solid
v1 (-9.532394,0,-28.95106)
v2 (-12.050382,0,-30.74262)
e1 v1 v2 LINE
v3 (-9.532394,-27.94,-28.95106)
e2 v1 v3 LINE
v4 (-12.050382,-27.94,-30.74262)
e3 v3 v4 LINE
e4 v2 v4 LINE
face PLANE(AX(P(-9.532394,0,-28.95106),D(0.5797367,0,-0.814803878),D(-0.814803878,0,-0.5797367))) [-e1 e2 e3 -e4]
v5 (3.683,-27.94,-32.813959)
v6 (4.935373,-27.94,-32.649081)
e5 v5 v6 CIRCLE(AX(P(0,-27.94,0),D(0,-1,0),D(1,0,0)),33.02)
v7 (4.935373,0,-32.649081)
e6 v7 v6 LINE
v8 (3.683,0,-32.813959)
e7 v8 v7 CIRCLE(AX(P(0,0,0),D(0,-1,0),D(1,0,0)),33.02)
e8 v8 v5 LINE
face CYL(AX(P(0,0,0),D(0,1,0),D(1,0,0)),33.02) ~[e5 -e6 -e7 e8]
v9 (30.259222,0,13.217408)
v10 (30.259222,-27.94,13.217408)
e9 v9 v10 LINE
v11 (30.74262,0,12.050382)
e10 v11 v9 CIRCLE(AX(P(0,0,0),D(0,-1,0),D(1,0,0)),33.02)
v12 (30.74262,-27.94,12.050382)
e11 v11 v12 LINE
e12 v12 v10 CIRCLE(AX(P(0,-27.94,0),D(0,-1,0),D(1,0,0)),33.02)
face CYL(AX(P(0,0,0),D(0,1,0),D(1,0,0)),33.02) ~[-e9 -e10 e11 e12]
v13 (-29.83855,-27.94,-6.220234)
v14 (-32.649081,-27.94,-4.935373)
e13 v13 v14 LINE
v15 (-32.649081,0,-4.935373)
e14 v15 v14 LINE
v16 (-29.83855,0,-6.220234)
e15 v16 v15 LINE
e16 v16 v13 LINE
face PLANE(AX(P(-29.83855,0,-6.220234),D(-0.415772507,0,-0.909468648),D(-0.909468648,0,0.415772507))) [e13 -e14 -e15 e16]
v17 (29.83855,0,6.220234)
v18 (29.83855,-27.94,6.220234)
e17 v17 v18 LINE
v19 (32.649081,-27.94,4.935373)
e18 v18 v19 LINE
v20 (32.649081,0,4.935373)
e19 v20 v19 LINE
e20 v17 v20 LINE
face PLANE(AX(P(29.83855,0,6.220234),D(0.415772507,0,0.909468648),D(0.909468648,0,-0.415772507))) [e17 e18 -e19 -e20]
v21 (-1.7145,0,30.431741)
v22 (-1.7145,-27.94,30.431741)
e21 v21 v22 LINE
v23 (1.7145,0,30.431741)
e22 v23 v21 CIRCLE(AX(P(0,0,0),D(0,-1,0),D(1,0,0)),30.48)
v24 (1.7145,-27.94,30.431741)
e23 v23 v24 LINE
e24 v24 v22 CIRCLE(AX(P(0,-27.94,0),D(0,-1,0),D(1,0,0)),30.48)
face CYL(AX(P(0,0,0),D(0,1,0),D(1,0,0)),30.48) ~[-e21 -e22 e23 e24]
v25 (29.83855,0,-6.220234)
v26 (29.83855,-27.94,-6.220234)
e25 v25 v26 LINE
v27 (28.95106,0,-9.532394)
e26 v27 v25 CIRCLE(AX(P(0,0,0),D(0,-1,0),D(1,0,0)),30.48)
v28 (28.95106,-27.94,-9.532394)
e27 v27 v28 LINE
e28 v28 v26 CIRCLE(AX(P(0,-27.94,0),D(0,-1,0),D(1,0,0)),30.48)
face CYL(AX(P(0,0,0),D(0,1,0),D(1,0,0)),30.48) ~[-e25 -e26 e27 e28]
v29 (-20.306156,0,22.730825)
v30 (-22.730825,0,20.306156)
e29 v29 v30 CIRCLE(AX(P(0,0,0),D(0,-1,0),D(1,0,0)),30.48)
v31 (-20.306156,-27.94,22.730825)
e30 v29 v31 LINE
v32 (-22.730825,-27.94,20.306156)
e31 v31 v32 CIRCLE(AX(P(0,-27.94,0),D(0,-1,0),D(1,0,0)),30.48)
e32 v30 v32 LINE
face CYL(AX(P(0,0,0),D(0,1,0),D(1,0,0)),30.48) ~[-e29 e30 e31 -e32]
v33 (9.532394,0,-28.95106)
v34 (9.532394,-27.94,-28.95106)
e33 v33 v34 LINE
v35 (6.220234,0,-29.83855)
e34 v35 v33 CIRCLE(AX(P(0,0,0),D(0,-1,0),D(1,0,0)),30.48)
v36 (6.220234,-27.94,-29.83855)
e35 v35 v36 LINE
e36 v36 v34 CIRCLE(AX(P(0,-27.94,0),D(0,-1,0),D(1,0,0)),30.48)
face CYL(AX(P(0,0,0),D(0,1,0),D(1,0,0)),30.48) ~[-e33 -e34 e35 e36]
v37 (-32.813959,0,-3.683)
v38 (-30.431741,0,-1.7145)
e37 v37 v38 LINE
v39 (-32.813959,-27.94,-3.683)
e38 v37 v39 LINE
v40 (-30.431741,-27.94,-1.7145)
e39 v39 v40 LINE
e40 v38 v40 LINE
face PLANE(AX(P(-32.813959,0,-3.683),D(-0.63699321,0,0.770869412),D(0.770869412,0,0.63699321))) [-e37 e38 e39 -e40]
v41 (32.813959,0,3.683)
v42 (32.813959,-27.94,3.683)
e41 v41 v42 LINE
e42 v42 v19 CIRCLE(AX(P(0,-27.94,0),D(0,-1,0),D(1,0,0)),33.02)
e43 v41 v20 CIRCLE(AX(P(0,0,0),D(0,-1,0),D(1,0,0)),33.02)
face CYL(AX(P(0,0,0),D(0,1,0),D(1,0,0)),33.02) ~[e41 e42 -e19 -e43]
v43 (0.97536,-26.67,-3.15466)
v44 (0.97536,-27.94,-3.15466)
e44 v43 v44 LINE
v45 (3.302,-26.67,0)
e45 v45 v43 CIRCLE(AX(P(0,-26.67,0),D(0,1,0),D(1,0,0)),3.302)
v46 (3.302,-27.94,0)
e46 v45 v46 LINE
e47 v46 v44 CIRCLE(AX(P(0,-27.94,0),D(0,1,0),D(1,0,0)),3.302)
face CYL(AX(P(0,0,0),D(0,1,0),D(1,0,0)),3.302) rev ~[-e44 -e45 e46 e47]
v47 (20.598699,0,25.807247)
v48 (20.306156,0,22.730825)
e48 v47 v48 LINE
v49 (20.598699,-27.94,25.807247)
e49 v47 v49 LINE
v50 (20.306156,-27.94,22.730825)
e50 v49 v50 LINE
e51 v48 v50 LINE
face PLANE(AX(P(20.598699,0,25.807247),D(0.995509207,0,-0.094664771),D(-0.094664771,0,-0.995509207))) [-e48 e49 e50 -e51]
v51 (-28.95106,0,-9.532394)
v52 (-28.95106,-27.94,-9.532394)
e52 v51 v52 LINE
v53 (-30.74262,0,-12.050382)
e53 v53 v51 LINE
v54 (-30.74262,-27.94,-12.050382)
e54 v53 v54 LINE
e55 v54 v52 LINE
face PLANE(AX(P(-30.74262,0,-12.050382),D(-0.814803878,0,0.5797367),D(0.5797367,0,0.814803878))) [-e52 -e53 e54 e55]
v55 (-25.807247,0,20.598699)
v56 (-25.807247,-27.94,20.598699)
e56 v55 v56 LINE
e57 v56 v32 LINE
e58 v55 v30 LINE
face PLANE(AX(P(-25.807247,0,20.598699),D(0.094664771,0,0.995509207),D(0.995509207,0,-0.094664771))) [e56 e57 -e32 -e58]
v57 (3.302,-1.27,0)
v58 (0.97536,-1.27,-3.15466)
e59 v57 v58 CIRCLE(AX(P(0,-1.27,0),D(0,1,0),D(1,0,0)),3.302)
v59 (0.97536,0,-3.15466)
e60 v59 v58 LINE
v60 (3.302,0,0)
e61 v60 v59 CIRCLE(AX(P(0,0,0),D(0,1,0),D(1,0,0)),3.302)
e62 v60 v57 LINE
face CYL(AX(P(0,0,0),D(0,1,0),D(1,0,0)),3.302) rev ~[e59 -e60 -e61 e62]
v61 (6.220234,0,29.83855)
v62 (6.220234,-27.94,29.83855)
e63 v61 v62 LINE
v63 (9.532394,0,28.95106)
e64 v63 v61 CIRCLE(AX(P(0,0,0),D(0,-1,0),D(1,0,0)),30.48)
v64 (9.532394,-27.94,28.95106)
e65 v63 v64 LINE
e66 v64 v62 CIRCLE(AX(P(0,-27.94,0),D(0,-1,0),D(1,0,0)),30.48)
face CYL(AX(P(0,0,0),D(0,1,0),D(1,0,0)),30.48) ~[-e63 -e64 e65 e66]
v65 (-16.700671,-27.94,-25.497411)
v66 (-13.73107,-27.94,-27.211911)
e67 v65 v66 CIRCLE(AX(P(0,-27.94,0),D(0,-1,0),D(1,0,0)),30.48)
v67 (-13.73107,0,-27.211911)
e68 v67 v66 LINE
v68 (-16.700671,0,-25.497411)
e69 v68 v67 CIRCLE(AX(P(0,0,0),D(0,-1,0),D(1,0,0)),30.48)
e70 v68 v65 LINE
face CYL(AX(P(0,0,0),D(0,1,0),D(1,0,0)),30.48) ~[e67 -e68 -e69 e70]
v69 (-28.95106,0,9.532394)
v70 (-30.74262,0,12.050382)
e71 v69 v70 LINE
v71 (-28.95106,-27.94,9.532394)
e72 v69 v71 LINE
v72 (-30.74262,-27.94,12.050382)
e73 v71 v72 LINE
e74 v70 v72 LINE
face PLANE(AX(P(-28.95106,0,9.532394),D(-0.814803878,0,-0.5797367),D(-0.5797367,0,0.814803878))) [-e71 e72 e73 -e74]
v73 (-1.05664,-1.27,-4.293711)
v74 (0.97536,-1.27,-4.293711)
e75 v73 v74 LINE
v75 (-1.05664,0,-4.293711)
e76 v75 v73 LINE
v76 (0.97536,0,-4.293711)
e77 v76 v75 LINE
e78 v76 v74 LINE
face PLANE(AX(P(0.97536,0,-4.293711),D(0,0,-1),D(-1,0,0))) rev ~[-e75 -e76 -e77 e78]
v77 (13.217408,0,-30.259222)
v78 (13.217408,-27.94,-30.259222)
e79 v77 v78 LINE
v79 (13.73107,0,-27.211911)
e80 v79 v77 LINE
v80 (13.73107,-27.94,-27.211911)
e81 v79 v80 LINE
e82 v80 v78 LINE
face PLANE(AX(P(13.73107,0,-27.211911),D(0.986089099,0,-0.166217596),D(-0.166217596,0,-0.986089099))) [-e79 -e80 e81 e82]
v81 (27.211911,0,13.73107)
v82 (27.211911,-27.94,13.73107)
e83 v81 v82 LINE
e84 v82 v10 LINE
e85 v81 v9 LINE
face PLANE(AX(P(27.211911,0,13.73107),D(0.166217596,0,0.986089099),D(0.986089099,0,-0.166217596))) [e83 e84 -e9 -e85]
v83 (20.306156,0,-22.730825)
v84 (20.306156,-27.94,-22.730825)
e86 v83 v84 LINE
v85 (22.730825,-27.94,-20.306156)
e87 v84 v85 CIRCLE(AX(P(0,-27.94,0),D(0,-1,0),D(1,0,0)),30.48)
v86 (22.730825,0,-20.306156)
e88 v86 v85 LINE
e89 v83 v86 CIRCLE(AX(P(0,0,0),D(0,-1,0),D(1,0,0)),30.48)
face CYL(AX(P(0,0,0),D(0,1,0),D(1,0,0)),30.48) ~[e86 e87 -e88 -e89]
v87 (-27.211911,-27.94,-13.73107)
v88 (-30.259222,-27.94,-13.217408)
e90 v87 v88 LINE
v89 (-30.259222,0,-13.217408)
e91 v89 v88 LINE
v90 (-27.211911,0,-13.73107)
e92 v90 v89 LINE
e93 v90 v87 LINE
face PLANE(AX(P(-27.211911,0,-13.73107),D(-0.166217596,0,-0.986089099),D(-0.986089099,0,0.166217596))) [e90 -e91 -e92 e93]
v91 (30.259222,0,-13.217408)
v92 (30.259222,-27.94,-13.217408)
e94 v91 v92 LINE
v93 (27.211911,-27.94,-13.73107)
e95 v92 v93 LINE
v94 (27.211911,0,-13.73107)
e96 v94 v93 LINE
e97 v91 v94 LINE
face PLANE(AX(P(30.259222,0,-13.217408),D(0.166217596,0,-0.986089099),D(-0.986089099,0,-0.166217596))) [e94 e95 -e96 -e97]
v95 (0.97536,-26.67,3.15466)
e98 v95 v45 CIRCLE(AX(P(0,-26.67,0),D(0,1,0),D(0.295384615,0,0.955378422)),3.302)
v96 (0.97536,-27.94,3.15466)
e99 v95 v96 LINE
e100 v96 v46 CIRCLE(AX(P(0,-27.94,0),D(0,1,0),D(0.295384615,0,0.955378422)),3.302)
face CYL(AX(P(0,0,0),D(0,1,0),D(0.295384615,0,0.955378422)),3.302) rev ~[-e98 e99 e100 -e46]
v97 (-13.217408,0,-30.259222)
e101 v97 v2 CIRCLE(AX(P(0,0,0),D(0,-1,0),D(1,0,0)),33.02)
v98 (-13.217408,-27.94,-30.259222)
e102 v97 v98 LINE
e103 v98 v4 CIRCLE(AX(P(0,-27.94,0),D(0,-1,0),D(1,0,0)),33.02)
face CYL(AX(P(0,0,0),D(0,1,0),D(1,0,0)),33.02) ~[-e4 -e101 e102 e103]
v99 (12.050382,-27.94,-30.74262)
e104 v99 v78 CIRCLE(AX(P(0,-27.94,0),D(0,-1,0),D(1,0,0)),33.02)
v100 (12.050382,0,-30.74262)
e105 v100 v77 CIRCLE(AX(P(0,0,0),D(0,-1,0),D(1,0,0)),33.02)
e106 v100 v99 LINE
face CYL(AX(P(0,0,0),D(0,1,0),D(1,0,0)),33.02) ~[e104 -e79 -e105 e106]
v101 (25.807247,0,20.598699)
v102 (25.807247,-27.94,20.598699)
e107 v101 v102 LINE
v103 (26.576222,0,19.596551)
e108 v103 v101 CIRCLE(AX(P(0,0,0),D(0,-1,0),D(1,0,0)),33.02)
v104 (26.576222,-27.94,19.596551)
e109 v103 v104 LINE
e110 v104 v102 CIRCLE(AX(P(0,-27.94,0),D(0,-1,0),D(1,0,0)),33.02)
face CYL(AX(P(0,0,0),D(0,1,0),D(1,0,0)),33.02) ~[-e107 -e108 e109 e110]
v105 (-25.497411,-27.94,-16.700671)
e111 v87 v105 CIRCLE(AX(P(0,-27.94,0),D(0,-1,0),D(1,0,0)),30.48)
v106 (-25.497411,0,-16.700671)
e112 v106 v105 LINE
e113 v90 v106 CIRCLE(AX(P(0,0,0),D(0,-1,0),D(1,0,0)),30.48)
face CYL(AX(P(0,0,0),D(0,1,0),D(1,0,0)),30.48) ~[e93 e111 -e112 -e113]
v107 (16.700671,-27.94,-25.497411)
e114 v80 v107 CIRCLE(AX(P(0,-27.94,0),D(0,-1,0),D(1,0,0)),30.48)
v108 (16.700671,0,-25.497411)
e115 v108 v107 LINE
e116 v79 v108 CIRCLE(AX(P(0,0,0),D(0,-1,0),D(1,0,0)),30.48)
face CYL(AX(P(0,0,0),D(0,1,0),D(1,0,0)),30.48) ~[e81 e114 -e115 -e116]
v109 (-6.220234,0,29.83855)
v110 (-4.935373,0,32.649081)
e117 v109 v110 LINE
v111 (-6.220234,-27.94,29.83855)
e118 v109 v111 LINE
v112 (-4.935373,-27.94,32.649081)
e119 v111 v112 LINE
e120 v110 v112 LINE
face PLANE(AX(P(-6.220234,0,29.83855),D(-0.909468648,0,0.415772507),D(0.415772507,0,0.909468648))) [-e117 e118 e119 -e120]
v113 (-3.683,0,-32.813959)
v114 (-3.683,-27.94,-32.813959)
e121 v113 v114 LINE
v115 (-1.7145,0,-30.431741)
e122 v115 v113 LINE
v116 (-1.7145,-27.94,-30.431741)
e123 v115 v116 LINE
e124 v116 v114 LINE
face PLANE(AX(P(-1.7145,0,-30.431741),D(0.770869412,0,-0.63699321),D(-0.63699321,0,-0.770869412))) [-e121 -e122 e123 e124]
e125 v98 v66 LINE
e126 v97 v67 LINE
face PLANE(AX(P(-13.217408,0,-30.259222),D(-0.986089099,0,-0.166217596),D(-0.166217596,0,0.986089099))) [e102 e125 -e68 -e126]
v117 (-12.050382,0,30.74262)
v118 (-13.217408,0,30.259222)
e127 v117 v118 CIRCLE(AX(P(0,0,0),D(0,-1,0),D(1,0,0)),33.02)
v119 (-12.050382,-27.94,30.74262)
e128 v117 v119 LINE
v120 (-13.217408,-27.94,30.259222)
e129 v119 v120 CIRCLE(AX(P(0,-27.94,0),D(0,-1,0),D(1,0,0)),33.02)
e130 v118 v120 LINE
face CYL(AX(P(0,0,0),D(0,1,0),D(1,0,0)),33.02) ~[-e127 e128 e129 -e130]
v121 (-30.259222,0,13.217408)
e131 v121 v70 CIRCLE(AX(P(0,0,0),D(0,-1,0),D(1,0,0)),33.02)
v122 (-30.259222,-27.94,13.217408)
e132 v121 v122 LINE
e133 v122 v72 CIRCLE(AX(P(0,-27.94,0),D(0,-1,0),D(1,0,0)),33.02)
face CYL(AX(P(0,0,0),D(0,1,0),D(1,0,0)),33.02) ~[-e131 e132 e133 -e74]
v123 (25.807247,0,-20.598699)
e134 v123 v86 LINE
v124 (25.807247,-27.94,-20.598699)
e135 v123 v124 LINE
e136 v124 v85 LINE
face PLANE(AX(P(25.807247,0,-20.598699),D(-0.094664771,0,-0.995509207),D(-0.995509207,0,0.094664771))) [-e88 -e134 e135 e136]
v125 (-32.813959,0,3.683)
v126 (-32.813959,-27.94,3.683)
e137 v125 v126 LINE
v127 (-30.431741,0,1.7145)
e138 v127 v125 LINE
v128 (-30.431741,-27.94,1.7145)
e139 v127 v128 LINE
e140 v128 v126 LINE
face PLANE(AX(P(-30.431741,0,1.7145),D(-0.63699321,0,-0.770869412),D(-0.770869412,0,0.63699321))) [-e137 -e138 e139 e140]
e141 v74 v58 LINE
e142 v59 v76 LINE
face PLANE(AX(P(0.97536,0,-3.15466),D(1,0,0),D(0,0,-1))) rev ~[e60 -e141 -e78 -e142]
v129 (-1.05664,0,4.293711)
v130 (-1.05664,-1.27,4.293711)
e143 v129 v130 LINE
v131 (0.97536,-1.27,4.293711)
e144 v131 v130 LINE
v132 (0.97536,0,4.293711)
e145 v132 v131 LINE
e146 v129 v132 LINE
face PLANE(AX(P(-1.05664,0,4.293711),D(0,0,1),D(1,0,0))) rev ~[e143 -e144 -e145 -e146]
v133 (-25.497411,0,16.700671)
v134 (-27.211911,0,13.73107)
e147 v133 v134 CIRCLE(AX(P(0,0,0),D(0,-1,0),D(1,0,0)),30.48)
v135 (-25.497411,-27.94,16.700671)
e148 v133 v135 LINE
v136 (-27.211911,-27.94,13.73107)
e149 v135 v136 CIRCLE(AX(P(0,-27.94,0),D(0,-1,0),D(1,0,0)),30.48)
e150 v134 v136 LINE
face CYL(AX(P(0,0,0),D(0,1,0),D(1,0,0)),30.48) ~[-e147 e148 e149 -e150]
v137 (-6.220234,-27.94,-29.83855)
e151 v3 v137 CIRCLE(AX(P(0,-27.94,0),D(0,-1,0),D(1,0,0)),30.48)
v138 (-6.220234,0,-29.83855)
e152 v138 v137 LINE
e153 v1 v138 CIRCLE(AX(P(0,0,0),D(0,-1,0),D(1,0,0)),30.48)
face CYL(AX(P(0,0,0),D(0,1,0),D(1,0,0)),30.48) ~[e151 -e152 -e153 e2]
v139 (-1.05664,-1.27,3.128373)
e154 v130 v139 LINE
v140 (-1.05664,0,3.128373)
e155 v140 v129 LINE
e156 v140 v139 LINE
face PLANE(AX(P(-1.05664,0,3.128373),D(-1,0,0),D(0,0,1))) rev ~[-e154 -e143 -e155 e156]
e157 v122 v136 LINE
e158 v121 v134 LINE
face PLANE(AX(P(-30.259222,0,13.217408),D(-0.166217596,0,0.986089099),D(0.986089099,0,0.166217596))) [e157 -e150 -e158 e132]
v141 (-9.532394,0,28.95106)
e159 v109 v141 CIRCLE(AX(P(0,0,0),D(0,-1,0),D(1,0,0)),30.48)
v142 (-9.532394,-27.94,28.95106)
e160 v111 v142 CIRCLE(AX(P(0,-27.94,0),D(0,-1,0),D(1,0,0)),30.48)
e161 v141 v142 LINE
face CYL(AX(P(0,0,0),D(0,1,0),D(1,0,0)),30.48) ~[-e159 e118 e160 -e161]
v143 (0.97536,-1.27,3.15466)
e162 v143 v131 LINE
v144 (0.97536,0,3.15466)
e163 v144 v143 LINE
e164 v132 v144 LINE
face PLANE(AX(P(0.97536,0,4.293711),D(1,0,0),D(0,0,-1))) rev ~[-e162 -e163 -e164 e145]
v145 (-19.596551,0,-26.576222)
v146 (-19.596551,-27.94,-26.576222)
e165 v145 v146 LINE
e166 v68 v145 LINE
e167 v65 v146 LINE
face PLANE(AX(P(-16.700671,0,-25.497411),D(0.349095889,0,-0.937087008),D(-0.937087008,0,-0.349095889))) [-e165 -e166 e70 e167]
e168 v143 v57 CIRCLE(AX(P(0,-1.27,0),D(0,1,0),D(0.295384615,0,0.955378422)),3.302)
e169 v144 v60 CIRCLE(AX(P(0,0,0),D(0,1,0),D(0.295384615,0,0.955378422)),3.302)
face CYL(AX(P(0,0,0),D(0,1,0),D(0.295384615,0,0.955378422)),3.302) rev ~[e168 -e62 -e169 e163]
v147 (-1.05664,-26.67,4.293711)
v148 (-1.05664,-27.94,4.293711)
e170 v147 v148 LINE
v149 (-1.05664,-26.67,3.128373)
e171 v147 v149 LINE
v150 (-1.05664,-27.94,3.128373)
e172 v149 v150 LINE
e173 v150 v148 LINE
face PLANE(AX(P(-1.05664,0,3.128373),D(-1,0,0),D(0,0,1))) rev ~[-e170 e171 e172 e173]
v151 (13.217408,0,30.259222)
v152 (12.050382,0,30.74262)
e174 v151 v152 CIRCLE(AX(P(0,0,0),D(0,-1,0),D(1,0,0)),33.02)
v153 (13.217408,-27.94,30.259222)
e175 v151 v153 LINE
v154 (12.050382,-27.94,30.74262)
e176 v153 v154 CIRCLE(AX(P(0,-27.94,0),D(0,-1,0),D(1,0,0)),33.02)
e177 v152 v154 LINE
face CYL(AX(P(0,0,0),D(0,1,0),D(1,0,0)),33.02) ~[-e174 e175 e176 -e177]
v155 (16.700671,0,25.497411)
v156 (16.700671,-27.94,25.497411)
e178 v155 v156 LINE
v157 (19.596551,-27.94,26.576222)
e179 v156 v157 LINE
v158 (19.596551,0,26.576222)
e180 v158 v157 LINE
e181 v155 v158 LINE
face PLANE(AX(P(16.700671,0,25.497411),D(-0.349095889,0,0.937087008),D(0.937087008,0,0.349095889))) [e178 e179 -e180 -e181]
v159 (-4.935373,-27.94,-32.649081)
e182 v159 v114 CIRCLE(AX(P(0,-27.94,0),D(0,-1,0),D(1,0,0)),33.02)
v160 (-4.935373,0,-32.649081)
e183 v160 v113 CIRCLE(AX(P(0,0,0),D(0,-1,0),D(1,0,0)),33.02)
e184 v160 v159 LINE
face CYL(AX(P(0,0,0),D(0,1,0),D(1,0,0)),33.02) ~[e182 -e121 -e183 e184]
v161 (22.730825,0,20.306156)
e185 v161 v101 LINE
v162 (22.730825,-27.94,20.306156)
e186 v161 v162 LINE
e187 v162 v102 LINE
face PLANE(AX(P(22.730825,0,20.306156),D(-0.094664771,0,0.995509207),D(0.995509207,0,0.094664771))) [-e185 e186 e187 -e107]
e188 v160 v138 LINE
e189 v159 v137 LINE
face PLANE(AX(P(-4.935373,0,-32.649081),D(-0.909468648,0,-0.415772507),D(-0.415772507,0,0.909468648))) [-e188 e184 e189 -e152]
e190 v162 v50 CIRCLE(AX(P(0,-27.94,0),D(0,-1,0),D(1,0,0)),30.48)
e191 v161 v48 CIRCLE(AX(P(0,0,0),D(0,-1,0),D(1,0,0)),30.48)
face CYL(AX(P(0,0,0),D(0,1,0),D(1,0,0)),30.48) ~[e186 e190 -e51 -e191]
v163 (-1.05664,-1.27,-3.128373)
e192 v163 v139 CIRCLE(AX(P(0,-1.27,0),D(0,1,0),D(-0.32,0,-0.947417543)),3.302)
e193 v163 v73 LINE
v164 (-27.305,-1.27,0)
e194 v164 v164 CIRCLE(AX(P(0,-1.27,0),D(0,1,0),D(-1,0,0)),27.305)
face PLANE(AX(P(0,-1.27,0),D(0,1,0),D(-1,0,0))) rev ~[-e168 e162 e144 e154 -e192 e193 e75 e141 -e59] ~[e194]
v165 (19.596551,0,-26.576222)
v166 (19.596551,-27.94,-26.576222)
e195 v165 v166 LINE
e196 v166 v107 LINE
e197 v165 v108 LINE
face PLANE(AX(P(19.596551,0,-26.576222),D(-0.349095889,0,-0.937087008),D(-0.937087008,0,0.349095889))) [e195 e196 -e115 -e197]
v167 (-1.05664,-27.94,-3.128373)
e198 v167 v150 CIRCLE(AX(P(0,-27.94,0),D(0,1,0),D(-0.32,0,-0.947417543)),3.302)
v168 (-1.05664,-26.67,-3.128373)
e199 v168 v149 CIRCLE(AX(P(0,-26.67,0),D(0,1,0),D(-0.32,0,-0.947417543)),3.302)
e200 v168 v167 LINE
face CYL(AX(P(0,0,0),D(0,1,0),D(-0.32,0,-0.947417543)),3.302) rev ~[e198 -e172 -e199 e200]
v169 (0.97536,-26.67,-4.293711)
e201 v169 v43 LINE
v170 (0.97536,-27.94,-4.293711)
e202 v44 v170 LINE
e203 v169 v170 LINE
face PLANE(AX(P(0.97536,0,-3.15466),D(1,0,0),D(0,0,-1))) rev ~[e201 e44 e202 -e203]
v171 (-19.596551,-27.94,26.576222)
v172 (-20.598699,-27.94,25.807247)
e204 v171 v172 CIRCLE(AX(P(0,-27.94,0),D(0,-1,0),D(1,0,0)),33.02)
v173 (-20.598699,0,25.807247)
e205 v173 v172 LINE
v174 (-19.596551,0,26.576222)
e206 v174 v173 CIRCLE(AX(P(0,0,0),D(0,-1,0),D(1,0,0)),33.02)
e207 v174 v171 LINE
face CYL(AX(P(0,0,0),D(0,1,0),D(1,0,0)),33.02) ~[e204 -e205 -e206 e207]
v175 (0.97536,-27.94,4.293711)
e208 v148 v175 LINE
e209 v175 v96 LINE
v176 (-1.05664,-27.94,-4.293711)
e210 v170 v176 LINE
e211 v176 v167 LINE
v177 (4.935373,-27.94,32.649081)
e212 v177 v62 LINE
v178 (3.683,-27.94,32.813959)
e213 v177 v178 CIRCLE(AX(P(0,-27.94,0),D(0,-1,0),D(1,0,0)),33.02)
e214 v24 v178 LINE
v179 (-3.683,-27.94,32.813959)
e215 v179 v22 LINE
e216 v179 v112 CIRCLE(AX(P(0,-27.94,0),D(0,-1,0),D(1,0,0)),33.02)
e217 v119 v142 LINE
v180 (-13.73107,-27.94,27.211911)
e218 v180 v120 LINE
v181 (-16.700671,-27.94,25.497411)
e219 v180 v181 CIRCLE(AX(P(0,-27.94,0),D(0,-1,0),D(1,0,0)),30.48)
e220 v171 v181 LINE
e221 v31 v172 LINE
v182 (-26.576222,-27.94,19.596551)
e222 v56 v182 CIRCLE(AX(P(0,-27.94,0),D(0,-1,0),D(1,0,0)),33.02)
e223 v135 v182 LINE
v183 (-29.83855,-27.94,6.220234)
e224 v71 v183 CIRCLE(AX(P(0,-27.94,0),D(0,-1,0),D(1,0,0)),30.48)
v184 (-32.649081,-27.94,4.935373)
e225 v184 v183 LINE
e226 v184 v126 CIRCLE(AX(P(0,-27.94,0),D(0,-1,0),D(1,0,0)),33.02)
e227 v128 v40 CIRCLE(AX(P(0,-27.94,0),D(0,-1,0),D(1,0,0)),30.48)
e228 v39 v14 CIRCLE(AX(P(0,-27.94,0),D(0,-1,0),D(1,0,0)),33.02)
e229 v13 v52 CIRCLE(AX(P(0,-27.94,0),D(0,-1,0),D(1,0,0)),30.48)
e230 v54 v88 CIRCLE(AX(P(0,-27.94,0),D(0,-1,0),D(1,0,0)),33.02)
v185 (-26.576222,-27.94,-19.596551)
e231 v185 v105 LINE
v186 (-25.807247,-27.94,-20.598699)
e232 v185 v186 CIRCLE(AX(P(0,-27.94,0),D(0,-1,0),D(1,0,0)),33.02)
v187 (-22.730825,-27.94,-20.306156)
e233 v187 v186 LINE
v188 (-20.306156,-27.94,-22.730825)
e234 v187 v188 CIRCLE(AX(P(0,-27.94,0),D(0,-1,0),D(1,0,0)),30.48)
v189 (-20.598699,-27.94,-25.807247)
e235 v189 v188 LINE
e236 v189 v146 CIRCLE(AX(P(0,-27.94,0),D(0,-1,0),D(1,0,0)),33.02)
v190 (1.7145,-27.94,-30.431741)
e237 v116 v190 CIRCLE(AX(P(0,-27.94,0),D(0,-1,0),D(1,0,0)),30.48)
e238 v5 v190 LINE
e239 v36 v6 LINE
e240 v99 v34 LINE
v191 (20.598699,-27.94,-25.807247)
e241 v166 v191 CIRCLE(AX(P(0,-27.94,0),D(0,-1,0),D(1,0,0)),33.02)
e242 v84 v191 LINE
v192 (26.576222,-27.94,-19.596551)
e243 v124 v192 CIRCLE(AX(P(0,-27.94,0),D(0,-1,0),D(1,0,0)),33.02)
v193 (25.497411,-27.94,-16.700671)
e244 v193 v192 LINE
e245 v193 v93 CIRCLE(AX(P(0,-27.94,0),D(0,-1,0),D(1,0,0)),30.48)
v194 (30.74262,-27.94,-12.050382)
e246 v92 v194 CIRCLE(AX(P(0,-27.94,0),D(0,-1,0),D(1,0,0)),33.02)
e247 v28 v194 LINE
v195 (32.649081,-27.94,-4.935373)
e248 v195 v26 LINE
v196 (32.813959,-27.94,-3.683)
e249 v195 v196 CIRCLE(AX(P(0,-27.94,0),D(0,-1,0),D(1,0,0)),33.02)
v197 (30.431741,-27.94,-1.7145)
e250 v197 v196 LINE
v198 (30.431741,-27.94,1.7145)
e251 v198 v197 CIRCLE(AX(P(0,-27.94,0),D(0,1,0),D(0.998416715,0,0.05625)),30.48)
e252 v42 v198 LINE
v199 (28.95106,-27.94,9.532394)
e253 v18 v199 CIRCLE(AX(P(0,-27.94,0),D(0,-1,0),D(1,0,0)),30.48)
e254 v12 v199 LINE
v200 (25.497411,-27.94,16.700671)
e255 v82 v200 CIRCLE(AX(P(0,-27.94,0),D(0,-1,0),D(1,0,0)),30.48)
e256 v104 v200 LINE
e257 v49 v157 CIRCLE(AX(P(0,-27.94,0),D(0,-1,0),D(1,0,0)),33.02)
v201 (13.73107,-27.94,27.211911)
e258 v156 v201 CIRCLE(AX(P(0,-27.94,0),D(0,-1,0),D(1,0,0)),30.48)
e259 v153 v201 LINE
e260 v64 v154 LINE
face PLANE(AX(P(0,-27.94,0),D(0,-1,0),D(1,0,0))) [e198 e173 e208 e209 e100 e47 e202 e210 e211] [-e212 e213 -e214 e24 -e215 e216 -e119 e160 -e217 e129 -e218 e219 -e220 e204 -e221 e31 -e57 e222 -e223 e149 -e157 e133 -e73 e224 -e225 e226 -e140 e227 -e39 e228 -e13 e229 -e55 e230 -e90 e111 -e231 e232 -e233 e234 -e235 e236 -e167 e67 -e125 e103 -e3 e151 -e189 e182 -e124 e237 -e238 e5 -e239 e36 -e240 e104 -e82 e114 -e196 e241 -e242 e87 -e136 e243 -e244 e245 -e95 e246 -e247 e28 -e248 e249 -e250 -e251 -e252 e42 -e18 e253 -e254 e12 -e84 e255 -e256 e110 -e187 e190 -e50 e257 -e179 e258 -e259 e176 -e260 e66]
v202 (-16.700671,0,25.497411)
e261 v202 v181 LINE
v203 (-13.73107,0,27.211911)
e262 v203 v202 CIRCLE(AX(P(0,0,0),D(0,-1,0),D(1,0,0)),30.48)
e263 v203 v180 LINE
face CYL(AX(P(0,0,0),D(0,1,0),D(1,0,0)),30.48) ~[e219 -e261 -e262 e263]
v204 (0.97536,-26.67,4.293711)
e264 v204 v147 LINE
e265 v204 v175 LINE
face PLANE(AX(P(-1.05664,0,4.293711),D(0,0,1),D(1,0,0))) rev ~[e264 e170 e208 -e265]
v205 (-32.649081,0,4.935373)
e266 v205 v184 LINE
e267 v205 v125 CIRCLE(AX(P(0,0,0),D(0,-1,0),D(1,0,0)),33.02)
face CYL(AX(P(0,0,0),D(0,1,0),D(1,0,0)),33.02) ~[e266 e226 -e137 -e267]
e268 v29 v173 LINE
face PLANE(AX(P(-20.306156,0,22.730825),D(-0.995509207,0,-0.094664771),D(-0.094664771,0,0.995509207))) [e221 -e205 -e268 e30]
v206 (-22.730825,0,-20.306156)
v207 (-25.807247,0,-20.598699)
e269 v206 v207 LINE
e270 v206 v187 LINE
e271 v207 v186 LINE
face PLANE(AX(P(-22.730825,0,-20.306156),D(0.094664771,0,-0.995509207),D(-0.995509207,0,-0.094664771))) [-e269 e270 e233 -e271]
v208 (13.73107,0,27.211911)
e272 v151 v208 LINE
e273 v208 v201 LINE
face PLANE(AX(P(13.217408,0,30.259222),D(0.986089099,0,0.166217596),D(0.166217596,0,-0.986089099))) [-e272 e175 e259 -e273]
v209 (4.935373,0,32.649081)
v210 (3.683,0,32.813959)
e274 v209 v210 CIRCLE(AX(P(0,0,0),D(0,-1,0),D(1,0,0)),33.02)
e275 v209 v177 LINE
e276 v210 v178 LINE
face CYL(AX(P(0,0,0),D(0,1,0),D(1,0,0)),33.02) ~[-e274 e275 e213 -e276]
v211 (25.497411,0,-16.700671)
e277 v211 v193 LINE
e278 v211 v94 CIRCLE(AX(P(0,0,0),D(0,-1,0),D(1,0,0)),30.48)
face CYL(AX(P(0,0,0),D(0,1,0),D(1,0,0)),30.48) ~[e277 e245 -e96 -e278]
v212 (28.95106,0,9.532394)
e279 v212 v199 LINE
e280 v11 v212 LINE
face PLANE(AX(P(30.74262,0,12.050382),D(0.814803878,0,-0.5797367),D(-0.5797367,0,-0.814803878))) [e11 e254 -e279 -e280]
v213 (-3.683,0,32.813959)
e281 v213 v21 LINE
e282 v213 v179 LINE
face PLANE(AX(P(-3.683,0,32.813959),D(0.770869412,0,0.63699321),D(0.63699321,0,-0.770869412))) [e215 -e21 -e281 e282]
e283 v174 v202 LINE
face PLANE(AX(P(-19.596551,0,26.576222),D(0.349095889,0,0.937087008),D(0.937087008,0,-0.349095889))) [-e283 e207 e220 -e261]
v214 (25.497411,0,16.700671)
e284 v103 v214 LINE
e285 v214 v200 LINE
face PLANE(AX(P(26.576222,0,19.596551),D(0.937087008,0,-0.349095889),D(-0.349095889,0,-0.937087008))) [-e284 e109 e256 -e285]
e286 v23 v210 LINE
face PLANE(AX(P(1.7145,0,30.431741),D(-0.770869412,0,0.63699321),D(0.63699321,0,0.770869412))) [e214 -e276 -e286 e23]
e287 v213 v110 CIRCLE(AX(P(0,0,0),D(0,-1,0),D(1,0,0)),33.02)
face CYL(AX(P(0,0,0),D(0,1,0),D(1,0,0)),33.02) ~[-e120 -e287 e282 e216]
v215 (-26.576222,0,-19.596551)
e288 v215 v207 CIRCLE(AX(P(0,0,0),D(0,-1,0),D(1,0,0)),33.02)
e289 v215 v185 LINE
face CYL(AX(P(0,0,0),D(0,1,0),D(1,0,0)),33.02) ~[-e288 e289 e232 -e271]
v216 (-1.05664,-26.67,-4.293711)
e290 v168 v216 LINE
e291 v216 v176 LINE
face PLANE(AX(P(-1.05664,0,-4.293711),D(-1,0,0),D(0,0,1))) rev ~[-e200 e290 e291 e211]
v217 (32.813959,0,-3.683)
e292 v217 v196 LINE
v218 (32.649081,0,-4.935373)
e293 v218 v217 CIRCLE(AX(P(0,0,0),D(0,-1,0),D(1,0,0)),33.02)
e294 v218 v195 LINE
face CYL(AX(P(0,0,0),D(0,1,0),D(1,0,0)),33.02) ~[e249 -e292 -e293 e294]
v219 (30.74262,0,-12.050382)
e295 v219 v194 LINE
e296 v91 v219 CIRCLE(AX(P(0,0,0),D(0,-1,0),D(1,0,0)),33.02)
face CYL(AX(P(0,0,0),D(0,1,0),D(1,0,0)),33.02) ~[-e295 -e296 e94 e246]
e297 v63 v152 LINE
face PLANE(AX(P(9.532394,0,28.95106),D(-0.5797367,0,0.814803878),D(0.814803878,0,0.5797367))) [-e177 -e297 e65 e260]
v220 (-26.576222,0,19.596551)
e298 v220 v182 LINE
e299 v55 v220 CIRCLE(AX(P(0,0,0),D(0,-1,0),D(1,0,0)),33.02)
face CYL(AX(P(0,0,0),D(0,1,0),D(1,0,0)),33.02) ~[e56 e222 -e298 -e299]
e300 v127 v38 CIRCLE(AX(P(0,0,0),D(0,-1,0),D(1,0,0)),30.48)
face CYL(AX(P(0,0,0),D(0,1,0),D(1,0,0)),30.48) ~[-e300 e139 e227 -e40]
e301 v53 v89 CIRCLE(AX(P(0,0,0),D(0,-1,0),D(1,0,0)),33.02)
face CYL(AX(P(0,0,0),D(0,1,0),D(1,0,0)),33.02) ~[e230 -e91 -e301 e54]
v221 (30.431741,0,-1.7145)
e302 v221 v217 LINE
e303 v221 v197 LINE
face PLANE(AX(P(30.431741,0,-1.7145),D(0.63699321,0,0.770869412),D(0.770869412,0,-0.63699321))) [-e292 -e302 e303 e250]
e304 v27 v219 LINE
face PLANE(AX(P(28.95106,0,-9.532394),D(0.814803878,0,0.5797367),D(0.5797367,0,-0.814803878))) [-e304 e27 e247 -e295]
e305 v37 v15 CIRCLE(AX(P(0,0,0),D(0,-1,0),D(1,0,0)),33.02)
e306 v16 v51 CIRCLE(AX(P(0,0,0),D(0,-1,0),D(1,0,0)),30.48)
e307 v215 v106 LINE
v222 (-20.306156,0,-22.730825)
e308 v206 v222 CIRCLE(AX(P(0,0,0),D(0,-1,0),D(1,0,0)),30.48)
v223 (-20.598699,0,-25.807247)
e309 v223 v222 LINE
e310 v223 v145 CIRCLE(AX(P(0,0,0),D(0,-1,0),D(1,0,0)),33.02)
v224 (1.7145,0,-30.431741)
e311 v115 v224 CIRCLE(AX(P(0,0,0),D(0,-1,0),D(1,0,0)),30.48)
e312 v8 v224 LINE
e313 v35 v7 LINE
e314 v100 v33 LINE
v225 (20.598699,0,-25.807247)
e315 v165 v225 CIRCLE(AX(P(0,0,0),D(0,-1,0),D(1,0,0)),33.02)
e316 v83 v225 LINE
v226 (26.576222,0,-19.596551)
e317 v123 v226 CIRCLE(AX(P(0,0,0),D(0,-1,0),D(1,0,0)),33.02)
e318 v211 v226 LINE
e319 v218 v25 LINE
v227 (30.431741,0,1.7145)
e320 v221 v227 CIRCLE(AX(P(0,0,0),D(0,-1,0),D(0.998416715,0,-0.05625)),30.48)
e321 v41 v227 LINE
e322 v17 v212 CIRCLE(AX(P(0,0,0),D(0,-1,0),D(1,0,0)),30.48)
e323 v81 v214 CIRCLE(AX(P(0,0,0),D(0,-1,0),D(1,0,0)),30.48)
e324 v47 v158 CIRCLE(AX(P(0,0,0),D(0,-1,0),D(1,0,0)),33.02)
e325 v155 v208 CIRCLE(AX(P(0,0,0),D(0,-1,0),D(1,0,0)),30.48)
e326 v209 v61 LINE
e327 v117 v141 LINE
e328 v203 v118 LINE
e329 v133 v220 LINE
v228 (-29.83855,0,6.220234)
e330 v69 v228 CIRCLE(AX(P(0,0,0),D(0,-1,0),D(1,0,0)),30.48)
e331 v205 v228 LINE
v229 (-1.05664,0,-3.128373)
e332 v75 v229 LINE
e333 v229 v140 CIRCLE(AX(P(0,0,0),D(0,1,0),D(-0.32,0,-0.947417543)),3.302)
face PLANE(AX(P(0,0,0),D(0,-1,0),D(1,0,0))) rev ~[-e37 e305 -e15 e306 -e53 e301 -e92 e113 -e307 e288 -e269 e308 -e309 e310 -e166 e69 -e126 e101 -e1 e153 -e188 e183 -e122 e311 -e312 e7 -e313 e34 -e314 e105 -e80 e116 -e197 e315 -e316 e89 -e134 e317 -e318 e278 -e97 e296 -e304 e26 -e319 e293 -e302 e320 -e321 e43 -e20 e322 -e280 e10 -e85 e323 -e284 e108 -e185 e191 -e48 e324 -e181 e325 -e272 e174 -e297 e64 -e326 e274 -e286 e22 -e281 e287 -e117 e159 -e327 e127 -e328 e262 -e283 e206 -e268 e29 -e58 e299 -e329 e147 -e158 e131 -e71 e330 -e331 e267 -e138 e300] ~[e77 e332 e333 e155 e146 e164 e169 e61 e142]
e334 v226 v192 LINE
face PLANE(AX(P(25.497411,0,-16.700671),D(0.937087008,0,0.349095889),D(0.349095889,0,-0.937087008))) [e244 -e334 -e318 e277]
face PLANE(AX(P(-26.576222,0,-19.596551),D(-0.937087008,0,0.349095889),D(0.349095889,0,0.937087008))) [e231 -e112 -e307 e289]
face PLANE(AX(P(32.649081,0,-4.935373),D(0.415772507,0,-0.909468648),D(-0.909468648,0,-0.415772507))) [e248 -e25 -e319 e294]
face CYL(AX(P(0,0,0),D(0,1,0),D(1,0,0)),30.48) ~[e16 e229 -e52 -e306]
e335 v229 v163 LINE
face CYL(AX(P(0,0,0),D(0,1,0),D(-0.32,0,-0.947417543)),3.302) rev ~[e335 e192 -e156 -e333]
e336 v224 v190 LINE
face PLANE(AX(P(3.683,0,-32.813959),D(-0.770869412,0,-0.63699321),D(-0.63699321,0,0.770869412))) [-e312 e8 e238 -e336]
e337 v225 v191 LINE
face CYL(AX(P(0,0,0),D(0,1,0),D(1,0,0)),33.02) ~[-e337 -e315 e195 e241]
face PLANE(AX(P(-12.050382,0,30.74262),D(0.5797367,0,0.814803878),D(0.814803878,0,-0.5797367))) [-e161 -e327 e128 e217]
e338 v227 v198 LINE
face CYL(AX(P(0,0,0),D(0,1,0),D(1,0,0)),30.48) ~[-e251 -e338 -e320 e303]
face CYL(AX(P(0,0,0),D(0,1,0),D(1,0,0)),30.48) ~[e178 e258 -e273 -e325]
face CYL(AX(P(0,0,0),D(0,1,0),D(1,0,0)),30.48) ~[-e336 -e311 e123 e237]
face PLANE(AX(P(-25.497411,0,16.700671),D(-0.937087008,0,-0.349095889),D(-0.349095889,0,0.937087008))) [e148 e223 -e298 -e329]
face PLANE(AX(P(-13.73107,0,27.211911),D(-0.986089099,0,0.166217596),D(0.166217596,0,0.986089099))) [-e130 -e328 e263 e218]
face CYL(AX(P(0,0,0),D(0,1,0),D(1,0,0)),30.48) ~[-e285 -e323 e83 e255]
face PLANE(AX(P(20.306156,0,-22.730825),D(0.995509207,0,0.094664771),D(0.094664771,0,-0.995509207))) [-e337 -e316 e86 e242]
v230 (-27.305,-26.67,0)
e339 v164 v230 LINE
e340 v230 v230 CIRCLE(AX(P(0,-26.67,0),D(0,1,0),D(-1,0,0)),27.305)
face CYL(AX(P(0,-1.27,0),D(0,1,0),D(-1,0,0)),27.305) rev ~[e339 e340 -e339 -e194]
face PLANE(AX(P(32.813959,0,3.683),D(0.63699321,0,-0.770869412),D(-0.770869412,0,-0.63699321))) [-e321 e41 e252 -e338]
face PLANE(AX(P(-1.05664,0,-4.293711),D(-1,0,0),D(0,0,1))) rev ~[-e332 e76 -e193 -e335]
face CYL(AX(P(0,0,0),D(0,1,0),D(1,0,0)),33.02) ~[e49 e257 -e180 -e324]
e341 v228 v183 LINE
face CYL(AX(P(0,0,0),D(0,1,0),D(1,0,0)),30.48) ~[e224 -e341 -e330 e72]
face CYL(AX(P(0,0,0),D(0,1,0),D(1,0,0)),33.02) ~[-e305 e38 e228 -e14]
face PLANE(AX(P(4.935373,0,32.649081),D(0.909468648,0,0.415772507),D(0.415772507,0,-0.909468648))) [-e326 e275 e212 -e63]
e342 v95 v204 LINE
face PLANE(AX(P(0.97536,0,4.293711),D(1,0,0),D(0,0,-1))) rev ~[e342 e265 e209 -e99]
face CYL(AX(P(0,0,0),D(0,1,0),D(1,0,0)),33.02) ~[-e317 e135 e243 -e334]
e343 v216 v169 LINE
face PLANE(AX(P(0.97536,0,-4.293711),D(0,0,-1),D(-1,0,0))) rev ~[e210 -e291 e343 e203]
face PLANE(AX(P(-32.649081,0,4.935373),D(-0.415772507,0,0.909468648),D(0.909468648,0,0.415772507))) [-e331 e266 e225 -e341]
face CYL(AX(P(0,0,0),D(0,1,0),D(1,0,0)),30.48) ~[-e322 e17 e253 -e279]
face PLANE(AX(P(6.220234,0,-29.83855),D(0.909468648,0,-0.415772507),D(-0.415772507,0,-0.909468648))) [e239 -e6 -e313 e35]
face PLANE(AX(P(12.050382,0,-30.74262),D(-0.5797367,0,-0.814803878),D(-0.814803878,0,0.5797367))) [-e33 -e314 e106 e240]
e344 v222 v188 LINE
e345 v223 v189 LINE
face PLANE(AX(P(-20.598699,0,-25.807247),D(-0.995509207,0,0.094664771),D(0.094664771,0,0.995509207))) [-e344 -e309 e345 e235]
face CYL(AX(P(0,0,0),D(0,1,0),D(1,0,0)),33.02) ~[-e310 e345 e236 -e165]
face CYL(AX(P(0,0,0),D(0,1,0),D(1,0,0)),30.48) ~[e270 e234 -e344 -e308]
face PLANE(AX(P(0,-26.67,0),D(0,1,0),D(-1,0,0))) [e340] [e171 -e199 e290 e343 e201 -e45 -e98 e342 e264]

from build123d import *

# Parameters (mm, degrees)
F0_R     = 33.02
F0_R_2   = 30.48
F1_DEPTH = 27.94
F3_DEPTH = 27.94
F4_DEPTH = 27.94
F6_R     = 27.305
F7_DEPTH = 25.4


with BuildPart() as f1:
    # F0 (on Front) → F1 (new body)
    with BuildSketch(Plane.XZ):
        Circle(F0_R)
        Circle(F0_R_2, mode=Mode.SUBTRACT)
    extrude(amount=F1_DEPTH)

    # F2 (on Front) → F3 (cut)
    with BuildSketch(Plane.XZ):
        with BuildLine():
            Line((-3.683, 32.8139590876), (-1.7145, 30.431741484))
            ThreePointArc((-1.7145, 30.431741484), (0, 30.48), (1.7145, 30.431741484))
            Line((1.7145, 30.431741484), (3.683, 32.8139590876))
            ThreePointArc((3.683, 32.8139590876), (0, 33.02), (-3.683, 32.8139590876))
        make_face()
        with BuildLine():
            ThreePointArc((-9.5323941009, 28.9510597855), (-7.8888044947, 29.4414191853), (-6.2202344425, 29.8385502912))
            Line((-6.2202344425, 29.8385502912), (-4.9353727389, 32.6490810886))
            ThreePointArc((-4.9353727389, 32.6490810886), (-8.5462048693, 31.8948707841), (-12.0503823753, 30.7426200024))
            Line((-12.0503823753, 30.7426200024), (-9.5323941009, 28.9510597855))
        make_face()
        with BuildLine():
            ThreePointArc((-16.7006712968, 25.4974112066), (-15.24, 26.3964543073), (-13.7310701872, 27.2119112066))
            Line((-13.7310701872, 27.2119112066), (-13.2174079816, 30.2592221686))
            ThreePointArc((-13.2174079816, 30.2592221686), (-16.51, 28.596158833), (-19.5965511059, 26.5762221686))
            Line((-19.5965511059, 26.5762221686), (-16.7006712968, 25.4974112066))
        make_face()
        with BuildLine():
            ThreePointArc((-22.730825343, 20.3061561903), (-21.5526146906, 21.5526146906), (-20.3061561903, 22.730825343))
            Line((-20.3061561903, 22.730825343), (-20.5986987133, 25.8072472635))
            ThreePointArc((-20.5986987133, 25.8072472635), (-23.3486659148, 23.3486659148), (-25.8072472635, 20.5986987133))
            Line((-25.8072472635, 20.5986987133), (-22.730825343, 20.3061561903))
        make_face()
        with BuildLine():
            ThreePointArc((-27.2119112066, 13.7310701872), (-26.3964543073, 15.24), (-25.4974112066, 16.7006712968))
            Line((-25.4974112066, 16.7006712968), (-26.5762221686, 19.5965511059))
            ThreePointArc((-26.5762221686, 19.5965511059), (-28.596158833, 16.51), (-30.2592221686, 13.2174079816))
            Line((-30.2592221686, 13.2174079816), (-27.2119112066, 13.7310701872))
        make_face()
        with BuildLine():
            ThreePointArc((-29.8385502912, 6.2202344425), (-29.4414191853, 7.8888044947), (-28.9510597855, 9.5323941009))
            Line((-28.9510597855, 9.5323941009), (-30.7426200024, 12.0503823753))
            ThreePointArc((-30.7426200024, 12.0503823753), (-31.8948707841, 8.5462048693), (-32.6490810886, 4.9353727389))
            Line((-32.6490810886, 4.9353727389), (-29.8385502912, 6.2202344425))
        make_face()
        with BuildLine():
            ThreePointArc((-30.431741484, -1.7145), (-30.48, 0), (-30.431741484, 1.7145))
            Line((-30.431741484, 1.7145), (-32.8139590876, 3.683))
            ThreePointArc((-32.8139590876, 3.683), (-33.02, 0), (-32.8139590876, -3.683))
            Line((-32.8139590876, -3.683), (-30.431741484, -1.7145))
        make_face()
        with BuildLine():
            ThreePointArc((-28.9510597855, -9.5323941009), (-29.4414191853, -7.8888044947), (-29.8385502912, -6.2202344425))
            Line((-29.8385502912, -6.2202344425), (-32.6490810886, -4.9353727389))
            ThreePointArc((-32.6490810886, -4.9353727389), (-31.8948707841, -8.5462048693), (-30.7426200024, -12.0503823753))
            Line((-30.7426200024, -12.0503823753), (-28.9510597855, -9.5323941009))
        make_face()
        with BuildLine():
            ThreePointArc((-25.4974112066, -16.7006712968), (-26.3964543073, -15.24), (-27.2119112066, -13.7310701872))
            Line((-27.2119112066, -13.7310701872), (-30.2592221686, -13.2174079816))
            ThreePointArc((-30.2592221686, -13.2174079816), (-28.596158833, -16.51), (-26.5762221686, -19.5965511059))
            Line((-26.5762221686, -19.5965511059), (-25.4974112066, -16.7006712968))
        make_face()
        with BuildLine():
            ThreePointArc((-20.3061561903, -22.730825343), (-21.5526146906, -21.5526146906), (-22.730825343, -20.3061561903))
            Line((-22.730825343, -20.3061561903), (-25.8072472635, -20.5986987133))
            ThreePointArc((-25.8072472635, -20.5986987133), (-23.3486659148, -23.3486659148), (-20.5986987133, -25.8072472635))
            Line((-20.5986987133, -25.8072472635), (-20.3061561903, -22.730825343))
        make_face()
        with BuildLine():
            ThreePointArc((-13.7310701872, -27.2119112066), (-15.24, -26.3964543073), (-16.7006712968, -25.4974112066))
            Line((-16.7006712968, -25.4974112066), (-19.5965511059, -26.5762221686))
            ThreePointArc((-19.5965511059, -26.5762221686), (-16.51, -28.596158833), (-13.2174079816, -30.2592221686))
            Line((-13.2174079816, -30.2592221686), (-13.7310701872, -27.2119112066))
        make_face()
        with BuildLine():
            ThreePointArc((-6.2202344425, -29.8385502912), (-7.8888044947, -29.4414191853), (-9.5323941009, -28.9510597855))
            Line((-9.5323941009, -28.9510597855), (-12.0503823753, -30.7426200024))
            ThreePointArc((-12.0503823753, -30.7426200024), (-8.5462048693, -31.8948707841), (-4.9353727389, -32.6490810886))
            Line((-4.9353727389, -32.6490810886), (-6.2202344425, -29.8385502912))
        make_face()
        with BuildLine():
            ThreePointArc((1.7145, -30.431741484), (0, -30.48), (-1.7145, -30.431741484))
            Line((-1.7145, -30.431741484), (-3.683, -32.8139590876))
            ThreePointArc((-3.683, -32.8139590876), (0, -33.02), (3.683, -32.8139590876))
            Line((3.683, -32.8139590876), (1.7145, -30.431741484))
        make_face()
        with BuildLine():
            ThreePointArc((9.5323941009, -28.9510597855), (7.8888044947, -29.4414191853), (6.2202344425, -29.8385502912))
            Line((6.2202344425, -29.8385502912), (4.9353727389, -32.6490810886))
            ThreePointArc((4.9353727389, -32.6490810886), (8.5462048693, -31.8948707841), (12.0503823753, -30.7426200024))
            Line((12.0503823753, -30.7426200024), (9.5323941009, -28.9510597855))
        make_face()
        with BuildLine():
            ThreePointArc((16.7006712968, -25.4974112066), (15.24, -26.3964543073), (13.7310701872, -27.2119112066))
            Line((13.7310701872, -27.2119112066), (13.2174079816, -30.2592221686))
            ThreePointArc((13.2174079816, -30.2592221686), (16.51, -28.596158833), (19.5965511059, -26.5762221686))
            Line((19.5965511059, -26.5762221686), (16.7006712968, -25.4974112066))
        make_face()
        with BuildLine():
            ThreePointArc((22.730825343, -20.3061561903), (21.5526146906, -21.5526146906), (20.3061561903, -22.730825343))
            Line((20.3061561903, -22.730825343), (20.5986987133, -25.8072472635))
            ThreePointArc((20.5986987133, -25.8072472635), (23.3486659148, -23.3486659148), (25.8072472635, -20.5986987133))
            Line((25.8072472635, -20.5986987133), (22.730825343, -20.3061561903))
        make_face()
        with BuildLine():
            ThreePointArc((27.2119112066, -13.7310701872), (26.3964543074, -15.24), (25.4974112066, -16.7006712968))
            Line((25.4974112066, -16.7006712968), (26.5762221686, -19.5965511059))
            ThreePointArc((26.5762221686, -19.5965511059), (28.596158833, -16.51), (30.2592221686, -13.2174079816))
            Line((30.2592221686, -13.2174079816), (27.2119112066, -13.7310701872))
        make_face()
        with BuildLine():
            ThreePointArc((29.8385502912, -6.2202344425), (29.4414191853, -7.8888044947), (28.9510597855, -9.5323941009))
            Line((28.9510597855, -9.5323941009), (30.7426200024, -12.0503823753))
            ThreePointArc((30.7426200024, -12.0503823753), (31.8948707841, -8.5462048693), (32.6490810886, -4.9353727389))
            Line((32.6490810886, -4.9353727389), (29.8385502912, -6.2202344425))
        make_face()
        with BuildLine():
            ThreePointArc((30.431741484, 1.7145), (30.48, 0), (30.431741484, -1.7145))
            Line((30.431741484, -1.7145), (32.8139590876, -3.683))
            ThreePointArc((32.8139590876, -3.683), (33.02, 0), (32.8139590876, 3.683))
            Line((32.8139590876, 3.683), (30.431741484, 1.7145))
        make_face()
        with BuildLine():
            ThreePointArc((28.9510597855, 9.5323941009), (29.4414191853, 7.8888044947), (29.8385502912, 6.2202344425))
            Line((29.8385502912, 6.2202344425), (32.6490810886, 4.9353727389))
            ThreePointArc((32.6490810886, 4.9353727389), (31.8948707841, 8.5462048693), (30.7426200024, 12.0503823753))
            Line((30.7426200024, 12.0503823753), (28.9510597855, 9.5323941009))
        make_face()
        with BuildLine():
            ThreePointArc((25.4974112066, 16.7006712968), (26.3964543073, 15.24), (27.2119112066, 13.7310701872))
            Line((27.2119112066, 13.7310701872), (30.2592221686, 13.2174079816))
            ThreePointArc((30.2592221686, 13.2174079816), (28.596158833, 16.51), (26.5762221686, 19.5965511059))
            Line((26.5762221686, 19.5965511059), (25.4974112066, 16.7006712968))
        make_face()
        with BuildLine():
            ThreePointArc((20.3061561903, 22.730825343), (21.5526146906, 21.5526146906), (22.730825343, 20.3061561903))
            Line((22.730825343, 20.3061561903), (25.8072472635, 20.5986987133))
            ThreePointArc((25.8072472635, 20.5986987133), (23.3486659148, 23.3486659148), (20.5986987133, 25.8072472635))
            Line((20.5986987133, 25.8072472635), (20.3061561903, 22.730825343))
        make_face()
        with BuildLine():
            ThreePointArc((13.7310701872, 27.2119112066), (15.24, 26.3964543073), (16.7006712968, 25.4974112066))
            Line((16.7006712968, 25.4974112066), (19.5965511059, 26.5762221686))
            ThreePointArc((19.5965511059, 26.5762221686), (16.51, 28.596158833), (13.2174079816, 30.2592221686))
            Line((13.2174079816, 30.2592221686), (13.7310701872, 27.2119112066))
        make_face()
        with BuildLine():
            ThreePointArc((6.2202344425, 29.8385502912), (7.8888044947, 29.4414191853), (9.5323941009, 28.9510597855))
            Line((9.5323941009, 28.9510597855), (12.0503823753, 30.7426200024))
            ThreePointArc((12.0503823753, 30.7426200024), (8.5462048693, 31.8948707841), (4.9353727389, 32.6490810886))
            Line((4.9353727389, 32.6490810886), (6.2202344425, 29.8385502912))
        make_face()
    extrude(amount=F3_DEPTH, mode=Mode.SUBTRACT)

    # F0 (on Front) → F4 (join)
    with BuildSketch(Plane.XZ):
        Circle(F0_R_2)
        with BuildLine():
            ThreePointArc((0.97536, 3.154659549), (2.6574275832, 1.9599190391), (3.302, 0))
            ThreePointArc((3.302, 0), (2.6574275832, -1.9599190391), (0.97536, -3.154659549))
            Line((0.97536, -3.154659549), (0.97536, -4.2937106432))
            Line((0.97536, -4.2937106432), (-1.05664, -4.2937106432))
            Line((-1.05664, -4.2937106432), (-1.05664, -3.1283727256))
            ThreePointArc((-1.05664, -3.1283727256), (-3.302, 0), (-1.05664, 3.1283727256))
            Line((-1.05664, 3.1283727256), (-1.05664, 4.2937106432))
            Line((-1.05664, 4.2937106432), (0.97536, 4.2937106432))
            Line((0.97536, 4.2937106432), (0.97536, 3.154659549))
        make_face(mode=Mode.SUBTRACT)
    extrude(amount=F4_DEPTH)

    # F6 (on offset) → F7 (cut)
    with BuildSketch(Plane(origin=(0, -1.27, 0), x_dir=(-1, 0, 0), z_dir=(0, 1, 0))):
        Circle(F6_R)
    extrude(amount=-F7_DEPTH, mode=Mode.SUBTRACT)


solid = f1.part
